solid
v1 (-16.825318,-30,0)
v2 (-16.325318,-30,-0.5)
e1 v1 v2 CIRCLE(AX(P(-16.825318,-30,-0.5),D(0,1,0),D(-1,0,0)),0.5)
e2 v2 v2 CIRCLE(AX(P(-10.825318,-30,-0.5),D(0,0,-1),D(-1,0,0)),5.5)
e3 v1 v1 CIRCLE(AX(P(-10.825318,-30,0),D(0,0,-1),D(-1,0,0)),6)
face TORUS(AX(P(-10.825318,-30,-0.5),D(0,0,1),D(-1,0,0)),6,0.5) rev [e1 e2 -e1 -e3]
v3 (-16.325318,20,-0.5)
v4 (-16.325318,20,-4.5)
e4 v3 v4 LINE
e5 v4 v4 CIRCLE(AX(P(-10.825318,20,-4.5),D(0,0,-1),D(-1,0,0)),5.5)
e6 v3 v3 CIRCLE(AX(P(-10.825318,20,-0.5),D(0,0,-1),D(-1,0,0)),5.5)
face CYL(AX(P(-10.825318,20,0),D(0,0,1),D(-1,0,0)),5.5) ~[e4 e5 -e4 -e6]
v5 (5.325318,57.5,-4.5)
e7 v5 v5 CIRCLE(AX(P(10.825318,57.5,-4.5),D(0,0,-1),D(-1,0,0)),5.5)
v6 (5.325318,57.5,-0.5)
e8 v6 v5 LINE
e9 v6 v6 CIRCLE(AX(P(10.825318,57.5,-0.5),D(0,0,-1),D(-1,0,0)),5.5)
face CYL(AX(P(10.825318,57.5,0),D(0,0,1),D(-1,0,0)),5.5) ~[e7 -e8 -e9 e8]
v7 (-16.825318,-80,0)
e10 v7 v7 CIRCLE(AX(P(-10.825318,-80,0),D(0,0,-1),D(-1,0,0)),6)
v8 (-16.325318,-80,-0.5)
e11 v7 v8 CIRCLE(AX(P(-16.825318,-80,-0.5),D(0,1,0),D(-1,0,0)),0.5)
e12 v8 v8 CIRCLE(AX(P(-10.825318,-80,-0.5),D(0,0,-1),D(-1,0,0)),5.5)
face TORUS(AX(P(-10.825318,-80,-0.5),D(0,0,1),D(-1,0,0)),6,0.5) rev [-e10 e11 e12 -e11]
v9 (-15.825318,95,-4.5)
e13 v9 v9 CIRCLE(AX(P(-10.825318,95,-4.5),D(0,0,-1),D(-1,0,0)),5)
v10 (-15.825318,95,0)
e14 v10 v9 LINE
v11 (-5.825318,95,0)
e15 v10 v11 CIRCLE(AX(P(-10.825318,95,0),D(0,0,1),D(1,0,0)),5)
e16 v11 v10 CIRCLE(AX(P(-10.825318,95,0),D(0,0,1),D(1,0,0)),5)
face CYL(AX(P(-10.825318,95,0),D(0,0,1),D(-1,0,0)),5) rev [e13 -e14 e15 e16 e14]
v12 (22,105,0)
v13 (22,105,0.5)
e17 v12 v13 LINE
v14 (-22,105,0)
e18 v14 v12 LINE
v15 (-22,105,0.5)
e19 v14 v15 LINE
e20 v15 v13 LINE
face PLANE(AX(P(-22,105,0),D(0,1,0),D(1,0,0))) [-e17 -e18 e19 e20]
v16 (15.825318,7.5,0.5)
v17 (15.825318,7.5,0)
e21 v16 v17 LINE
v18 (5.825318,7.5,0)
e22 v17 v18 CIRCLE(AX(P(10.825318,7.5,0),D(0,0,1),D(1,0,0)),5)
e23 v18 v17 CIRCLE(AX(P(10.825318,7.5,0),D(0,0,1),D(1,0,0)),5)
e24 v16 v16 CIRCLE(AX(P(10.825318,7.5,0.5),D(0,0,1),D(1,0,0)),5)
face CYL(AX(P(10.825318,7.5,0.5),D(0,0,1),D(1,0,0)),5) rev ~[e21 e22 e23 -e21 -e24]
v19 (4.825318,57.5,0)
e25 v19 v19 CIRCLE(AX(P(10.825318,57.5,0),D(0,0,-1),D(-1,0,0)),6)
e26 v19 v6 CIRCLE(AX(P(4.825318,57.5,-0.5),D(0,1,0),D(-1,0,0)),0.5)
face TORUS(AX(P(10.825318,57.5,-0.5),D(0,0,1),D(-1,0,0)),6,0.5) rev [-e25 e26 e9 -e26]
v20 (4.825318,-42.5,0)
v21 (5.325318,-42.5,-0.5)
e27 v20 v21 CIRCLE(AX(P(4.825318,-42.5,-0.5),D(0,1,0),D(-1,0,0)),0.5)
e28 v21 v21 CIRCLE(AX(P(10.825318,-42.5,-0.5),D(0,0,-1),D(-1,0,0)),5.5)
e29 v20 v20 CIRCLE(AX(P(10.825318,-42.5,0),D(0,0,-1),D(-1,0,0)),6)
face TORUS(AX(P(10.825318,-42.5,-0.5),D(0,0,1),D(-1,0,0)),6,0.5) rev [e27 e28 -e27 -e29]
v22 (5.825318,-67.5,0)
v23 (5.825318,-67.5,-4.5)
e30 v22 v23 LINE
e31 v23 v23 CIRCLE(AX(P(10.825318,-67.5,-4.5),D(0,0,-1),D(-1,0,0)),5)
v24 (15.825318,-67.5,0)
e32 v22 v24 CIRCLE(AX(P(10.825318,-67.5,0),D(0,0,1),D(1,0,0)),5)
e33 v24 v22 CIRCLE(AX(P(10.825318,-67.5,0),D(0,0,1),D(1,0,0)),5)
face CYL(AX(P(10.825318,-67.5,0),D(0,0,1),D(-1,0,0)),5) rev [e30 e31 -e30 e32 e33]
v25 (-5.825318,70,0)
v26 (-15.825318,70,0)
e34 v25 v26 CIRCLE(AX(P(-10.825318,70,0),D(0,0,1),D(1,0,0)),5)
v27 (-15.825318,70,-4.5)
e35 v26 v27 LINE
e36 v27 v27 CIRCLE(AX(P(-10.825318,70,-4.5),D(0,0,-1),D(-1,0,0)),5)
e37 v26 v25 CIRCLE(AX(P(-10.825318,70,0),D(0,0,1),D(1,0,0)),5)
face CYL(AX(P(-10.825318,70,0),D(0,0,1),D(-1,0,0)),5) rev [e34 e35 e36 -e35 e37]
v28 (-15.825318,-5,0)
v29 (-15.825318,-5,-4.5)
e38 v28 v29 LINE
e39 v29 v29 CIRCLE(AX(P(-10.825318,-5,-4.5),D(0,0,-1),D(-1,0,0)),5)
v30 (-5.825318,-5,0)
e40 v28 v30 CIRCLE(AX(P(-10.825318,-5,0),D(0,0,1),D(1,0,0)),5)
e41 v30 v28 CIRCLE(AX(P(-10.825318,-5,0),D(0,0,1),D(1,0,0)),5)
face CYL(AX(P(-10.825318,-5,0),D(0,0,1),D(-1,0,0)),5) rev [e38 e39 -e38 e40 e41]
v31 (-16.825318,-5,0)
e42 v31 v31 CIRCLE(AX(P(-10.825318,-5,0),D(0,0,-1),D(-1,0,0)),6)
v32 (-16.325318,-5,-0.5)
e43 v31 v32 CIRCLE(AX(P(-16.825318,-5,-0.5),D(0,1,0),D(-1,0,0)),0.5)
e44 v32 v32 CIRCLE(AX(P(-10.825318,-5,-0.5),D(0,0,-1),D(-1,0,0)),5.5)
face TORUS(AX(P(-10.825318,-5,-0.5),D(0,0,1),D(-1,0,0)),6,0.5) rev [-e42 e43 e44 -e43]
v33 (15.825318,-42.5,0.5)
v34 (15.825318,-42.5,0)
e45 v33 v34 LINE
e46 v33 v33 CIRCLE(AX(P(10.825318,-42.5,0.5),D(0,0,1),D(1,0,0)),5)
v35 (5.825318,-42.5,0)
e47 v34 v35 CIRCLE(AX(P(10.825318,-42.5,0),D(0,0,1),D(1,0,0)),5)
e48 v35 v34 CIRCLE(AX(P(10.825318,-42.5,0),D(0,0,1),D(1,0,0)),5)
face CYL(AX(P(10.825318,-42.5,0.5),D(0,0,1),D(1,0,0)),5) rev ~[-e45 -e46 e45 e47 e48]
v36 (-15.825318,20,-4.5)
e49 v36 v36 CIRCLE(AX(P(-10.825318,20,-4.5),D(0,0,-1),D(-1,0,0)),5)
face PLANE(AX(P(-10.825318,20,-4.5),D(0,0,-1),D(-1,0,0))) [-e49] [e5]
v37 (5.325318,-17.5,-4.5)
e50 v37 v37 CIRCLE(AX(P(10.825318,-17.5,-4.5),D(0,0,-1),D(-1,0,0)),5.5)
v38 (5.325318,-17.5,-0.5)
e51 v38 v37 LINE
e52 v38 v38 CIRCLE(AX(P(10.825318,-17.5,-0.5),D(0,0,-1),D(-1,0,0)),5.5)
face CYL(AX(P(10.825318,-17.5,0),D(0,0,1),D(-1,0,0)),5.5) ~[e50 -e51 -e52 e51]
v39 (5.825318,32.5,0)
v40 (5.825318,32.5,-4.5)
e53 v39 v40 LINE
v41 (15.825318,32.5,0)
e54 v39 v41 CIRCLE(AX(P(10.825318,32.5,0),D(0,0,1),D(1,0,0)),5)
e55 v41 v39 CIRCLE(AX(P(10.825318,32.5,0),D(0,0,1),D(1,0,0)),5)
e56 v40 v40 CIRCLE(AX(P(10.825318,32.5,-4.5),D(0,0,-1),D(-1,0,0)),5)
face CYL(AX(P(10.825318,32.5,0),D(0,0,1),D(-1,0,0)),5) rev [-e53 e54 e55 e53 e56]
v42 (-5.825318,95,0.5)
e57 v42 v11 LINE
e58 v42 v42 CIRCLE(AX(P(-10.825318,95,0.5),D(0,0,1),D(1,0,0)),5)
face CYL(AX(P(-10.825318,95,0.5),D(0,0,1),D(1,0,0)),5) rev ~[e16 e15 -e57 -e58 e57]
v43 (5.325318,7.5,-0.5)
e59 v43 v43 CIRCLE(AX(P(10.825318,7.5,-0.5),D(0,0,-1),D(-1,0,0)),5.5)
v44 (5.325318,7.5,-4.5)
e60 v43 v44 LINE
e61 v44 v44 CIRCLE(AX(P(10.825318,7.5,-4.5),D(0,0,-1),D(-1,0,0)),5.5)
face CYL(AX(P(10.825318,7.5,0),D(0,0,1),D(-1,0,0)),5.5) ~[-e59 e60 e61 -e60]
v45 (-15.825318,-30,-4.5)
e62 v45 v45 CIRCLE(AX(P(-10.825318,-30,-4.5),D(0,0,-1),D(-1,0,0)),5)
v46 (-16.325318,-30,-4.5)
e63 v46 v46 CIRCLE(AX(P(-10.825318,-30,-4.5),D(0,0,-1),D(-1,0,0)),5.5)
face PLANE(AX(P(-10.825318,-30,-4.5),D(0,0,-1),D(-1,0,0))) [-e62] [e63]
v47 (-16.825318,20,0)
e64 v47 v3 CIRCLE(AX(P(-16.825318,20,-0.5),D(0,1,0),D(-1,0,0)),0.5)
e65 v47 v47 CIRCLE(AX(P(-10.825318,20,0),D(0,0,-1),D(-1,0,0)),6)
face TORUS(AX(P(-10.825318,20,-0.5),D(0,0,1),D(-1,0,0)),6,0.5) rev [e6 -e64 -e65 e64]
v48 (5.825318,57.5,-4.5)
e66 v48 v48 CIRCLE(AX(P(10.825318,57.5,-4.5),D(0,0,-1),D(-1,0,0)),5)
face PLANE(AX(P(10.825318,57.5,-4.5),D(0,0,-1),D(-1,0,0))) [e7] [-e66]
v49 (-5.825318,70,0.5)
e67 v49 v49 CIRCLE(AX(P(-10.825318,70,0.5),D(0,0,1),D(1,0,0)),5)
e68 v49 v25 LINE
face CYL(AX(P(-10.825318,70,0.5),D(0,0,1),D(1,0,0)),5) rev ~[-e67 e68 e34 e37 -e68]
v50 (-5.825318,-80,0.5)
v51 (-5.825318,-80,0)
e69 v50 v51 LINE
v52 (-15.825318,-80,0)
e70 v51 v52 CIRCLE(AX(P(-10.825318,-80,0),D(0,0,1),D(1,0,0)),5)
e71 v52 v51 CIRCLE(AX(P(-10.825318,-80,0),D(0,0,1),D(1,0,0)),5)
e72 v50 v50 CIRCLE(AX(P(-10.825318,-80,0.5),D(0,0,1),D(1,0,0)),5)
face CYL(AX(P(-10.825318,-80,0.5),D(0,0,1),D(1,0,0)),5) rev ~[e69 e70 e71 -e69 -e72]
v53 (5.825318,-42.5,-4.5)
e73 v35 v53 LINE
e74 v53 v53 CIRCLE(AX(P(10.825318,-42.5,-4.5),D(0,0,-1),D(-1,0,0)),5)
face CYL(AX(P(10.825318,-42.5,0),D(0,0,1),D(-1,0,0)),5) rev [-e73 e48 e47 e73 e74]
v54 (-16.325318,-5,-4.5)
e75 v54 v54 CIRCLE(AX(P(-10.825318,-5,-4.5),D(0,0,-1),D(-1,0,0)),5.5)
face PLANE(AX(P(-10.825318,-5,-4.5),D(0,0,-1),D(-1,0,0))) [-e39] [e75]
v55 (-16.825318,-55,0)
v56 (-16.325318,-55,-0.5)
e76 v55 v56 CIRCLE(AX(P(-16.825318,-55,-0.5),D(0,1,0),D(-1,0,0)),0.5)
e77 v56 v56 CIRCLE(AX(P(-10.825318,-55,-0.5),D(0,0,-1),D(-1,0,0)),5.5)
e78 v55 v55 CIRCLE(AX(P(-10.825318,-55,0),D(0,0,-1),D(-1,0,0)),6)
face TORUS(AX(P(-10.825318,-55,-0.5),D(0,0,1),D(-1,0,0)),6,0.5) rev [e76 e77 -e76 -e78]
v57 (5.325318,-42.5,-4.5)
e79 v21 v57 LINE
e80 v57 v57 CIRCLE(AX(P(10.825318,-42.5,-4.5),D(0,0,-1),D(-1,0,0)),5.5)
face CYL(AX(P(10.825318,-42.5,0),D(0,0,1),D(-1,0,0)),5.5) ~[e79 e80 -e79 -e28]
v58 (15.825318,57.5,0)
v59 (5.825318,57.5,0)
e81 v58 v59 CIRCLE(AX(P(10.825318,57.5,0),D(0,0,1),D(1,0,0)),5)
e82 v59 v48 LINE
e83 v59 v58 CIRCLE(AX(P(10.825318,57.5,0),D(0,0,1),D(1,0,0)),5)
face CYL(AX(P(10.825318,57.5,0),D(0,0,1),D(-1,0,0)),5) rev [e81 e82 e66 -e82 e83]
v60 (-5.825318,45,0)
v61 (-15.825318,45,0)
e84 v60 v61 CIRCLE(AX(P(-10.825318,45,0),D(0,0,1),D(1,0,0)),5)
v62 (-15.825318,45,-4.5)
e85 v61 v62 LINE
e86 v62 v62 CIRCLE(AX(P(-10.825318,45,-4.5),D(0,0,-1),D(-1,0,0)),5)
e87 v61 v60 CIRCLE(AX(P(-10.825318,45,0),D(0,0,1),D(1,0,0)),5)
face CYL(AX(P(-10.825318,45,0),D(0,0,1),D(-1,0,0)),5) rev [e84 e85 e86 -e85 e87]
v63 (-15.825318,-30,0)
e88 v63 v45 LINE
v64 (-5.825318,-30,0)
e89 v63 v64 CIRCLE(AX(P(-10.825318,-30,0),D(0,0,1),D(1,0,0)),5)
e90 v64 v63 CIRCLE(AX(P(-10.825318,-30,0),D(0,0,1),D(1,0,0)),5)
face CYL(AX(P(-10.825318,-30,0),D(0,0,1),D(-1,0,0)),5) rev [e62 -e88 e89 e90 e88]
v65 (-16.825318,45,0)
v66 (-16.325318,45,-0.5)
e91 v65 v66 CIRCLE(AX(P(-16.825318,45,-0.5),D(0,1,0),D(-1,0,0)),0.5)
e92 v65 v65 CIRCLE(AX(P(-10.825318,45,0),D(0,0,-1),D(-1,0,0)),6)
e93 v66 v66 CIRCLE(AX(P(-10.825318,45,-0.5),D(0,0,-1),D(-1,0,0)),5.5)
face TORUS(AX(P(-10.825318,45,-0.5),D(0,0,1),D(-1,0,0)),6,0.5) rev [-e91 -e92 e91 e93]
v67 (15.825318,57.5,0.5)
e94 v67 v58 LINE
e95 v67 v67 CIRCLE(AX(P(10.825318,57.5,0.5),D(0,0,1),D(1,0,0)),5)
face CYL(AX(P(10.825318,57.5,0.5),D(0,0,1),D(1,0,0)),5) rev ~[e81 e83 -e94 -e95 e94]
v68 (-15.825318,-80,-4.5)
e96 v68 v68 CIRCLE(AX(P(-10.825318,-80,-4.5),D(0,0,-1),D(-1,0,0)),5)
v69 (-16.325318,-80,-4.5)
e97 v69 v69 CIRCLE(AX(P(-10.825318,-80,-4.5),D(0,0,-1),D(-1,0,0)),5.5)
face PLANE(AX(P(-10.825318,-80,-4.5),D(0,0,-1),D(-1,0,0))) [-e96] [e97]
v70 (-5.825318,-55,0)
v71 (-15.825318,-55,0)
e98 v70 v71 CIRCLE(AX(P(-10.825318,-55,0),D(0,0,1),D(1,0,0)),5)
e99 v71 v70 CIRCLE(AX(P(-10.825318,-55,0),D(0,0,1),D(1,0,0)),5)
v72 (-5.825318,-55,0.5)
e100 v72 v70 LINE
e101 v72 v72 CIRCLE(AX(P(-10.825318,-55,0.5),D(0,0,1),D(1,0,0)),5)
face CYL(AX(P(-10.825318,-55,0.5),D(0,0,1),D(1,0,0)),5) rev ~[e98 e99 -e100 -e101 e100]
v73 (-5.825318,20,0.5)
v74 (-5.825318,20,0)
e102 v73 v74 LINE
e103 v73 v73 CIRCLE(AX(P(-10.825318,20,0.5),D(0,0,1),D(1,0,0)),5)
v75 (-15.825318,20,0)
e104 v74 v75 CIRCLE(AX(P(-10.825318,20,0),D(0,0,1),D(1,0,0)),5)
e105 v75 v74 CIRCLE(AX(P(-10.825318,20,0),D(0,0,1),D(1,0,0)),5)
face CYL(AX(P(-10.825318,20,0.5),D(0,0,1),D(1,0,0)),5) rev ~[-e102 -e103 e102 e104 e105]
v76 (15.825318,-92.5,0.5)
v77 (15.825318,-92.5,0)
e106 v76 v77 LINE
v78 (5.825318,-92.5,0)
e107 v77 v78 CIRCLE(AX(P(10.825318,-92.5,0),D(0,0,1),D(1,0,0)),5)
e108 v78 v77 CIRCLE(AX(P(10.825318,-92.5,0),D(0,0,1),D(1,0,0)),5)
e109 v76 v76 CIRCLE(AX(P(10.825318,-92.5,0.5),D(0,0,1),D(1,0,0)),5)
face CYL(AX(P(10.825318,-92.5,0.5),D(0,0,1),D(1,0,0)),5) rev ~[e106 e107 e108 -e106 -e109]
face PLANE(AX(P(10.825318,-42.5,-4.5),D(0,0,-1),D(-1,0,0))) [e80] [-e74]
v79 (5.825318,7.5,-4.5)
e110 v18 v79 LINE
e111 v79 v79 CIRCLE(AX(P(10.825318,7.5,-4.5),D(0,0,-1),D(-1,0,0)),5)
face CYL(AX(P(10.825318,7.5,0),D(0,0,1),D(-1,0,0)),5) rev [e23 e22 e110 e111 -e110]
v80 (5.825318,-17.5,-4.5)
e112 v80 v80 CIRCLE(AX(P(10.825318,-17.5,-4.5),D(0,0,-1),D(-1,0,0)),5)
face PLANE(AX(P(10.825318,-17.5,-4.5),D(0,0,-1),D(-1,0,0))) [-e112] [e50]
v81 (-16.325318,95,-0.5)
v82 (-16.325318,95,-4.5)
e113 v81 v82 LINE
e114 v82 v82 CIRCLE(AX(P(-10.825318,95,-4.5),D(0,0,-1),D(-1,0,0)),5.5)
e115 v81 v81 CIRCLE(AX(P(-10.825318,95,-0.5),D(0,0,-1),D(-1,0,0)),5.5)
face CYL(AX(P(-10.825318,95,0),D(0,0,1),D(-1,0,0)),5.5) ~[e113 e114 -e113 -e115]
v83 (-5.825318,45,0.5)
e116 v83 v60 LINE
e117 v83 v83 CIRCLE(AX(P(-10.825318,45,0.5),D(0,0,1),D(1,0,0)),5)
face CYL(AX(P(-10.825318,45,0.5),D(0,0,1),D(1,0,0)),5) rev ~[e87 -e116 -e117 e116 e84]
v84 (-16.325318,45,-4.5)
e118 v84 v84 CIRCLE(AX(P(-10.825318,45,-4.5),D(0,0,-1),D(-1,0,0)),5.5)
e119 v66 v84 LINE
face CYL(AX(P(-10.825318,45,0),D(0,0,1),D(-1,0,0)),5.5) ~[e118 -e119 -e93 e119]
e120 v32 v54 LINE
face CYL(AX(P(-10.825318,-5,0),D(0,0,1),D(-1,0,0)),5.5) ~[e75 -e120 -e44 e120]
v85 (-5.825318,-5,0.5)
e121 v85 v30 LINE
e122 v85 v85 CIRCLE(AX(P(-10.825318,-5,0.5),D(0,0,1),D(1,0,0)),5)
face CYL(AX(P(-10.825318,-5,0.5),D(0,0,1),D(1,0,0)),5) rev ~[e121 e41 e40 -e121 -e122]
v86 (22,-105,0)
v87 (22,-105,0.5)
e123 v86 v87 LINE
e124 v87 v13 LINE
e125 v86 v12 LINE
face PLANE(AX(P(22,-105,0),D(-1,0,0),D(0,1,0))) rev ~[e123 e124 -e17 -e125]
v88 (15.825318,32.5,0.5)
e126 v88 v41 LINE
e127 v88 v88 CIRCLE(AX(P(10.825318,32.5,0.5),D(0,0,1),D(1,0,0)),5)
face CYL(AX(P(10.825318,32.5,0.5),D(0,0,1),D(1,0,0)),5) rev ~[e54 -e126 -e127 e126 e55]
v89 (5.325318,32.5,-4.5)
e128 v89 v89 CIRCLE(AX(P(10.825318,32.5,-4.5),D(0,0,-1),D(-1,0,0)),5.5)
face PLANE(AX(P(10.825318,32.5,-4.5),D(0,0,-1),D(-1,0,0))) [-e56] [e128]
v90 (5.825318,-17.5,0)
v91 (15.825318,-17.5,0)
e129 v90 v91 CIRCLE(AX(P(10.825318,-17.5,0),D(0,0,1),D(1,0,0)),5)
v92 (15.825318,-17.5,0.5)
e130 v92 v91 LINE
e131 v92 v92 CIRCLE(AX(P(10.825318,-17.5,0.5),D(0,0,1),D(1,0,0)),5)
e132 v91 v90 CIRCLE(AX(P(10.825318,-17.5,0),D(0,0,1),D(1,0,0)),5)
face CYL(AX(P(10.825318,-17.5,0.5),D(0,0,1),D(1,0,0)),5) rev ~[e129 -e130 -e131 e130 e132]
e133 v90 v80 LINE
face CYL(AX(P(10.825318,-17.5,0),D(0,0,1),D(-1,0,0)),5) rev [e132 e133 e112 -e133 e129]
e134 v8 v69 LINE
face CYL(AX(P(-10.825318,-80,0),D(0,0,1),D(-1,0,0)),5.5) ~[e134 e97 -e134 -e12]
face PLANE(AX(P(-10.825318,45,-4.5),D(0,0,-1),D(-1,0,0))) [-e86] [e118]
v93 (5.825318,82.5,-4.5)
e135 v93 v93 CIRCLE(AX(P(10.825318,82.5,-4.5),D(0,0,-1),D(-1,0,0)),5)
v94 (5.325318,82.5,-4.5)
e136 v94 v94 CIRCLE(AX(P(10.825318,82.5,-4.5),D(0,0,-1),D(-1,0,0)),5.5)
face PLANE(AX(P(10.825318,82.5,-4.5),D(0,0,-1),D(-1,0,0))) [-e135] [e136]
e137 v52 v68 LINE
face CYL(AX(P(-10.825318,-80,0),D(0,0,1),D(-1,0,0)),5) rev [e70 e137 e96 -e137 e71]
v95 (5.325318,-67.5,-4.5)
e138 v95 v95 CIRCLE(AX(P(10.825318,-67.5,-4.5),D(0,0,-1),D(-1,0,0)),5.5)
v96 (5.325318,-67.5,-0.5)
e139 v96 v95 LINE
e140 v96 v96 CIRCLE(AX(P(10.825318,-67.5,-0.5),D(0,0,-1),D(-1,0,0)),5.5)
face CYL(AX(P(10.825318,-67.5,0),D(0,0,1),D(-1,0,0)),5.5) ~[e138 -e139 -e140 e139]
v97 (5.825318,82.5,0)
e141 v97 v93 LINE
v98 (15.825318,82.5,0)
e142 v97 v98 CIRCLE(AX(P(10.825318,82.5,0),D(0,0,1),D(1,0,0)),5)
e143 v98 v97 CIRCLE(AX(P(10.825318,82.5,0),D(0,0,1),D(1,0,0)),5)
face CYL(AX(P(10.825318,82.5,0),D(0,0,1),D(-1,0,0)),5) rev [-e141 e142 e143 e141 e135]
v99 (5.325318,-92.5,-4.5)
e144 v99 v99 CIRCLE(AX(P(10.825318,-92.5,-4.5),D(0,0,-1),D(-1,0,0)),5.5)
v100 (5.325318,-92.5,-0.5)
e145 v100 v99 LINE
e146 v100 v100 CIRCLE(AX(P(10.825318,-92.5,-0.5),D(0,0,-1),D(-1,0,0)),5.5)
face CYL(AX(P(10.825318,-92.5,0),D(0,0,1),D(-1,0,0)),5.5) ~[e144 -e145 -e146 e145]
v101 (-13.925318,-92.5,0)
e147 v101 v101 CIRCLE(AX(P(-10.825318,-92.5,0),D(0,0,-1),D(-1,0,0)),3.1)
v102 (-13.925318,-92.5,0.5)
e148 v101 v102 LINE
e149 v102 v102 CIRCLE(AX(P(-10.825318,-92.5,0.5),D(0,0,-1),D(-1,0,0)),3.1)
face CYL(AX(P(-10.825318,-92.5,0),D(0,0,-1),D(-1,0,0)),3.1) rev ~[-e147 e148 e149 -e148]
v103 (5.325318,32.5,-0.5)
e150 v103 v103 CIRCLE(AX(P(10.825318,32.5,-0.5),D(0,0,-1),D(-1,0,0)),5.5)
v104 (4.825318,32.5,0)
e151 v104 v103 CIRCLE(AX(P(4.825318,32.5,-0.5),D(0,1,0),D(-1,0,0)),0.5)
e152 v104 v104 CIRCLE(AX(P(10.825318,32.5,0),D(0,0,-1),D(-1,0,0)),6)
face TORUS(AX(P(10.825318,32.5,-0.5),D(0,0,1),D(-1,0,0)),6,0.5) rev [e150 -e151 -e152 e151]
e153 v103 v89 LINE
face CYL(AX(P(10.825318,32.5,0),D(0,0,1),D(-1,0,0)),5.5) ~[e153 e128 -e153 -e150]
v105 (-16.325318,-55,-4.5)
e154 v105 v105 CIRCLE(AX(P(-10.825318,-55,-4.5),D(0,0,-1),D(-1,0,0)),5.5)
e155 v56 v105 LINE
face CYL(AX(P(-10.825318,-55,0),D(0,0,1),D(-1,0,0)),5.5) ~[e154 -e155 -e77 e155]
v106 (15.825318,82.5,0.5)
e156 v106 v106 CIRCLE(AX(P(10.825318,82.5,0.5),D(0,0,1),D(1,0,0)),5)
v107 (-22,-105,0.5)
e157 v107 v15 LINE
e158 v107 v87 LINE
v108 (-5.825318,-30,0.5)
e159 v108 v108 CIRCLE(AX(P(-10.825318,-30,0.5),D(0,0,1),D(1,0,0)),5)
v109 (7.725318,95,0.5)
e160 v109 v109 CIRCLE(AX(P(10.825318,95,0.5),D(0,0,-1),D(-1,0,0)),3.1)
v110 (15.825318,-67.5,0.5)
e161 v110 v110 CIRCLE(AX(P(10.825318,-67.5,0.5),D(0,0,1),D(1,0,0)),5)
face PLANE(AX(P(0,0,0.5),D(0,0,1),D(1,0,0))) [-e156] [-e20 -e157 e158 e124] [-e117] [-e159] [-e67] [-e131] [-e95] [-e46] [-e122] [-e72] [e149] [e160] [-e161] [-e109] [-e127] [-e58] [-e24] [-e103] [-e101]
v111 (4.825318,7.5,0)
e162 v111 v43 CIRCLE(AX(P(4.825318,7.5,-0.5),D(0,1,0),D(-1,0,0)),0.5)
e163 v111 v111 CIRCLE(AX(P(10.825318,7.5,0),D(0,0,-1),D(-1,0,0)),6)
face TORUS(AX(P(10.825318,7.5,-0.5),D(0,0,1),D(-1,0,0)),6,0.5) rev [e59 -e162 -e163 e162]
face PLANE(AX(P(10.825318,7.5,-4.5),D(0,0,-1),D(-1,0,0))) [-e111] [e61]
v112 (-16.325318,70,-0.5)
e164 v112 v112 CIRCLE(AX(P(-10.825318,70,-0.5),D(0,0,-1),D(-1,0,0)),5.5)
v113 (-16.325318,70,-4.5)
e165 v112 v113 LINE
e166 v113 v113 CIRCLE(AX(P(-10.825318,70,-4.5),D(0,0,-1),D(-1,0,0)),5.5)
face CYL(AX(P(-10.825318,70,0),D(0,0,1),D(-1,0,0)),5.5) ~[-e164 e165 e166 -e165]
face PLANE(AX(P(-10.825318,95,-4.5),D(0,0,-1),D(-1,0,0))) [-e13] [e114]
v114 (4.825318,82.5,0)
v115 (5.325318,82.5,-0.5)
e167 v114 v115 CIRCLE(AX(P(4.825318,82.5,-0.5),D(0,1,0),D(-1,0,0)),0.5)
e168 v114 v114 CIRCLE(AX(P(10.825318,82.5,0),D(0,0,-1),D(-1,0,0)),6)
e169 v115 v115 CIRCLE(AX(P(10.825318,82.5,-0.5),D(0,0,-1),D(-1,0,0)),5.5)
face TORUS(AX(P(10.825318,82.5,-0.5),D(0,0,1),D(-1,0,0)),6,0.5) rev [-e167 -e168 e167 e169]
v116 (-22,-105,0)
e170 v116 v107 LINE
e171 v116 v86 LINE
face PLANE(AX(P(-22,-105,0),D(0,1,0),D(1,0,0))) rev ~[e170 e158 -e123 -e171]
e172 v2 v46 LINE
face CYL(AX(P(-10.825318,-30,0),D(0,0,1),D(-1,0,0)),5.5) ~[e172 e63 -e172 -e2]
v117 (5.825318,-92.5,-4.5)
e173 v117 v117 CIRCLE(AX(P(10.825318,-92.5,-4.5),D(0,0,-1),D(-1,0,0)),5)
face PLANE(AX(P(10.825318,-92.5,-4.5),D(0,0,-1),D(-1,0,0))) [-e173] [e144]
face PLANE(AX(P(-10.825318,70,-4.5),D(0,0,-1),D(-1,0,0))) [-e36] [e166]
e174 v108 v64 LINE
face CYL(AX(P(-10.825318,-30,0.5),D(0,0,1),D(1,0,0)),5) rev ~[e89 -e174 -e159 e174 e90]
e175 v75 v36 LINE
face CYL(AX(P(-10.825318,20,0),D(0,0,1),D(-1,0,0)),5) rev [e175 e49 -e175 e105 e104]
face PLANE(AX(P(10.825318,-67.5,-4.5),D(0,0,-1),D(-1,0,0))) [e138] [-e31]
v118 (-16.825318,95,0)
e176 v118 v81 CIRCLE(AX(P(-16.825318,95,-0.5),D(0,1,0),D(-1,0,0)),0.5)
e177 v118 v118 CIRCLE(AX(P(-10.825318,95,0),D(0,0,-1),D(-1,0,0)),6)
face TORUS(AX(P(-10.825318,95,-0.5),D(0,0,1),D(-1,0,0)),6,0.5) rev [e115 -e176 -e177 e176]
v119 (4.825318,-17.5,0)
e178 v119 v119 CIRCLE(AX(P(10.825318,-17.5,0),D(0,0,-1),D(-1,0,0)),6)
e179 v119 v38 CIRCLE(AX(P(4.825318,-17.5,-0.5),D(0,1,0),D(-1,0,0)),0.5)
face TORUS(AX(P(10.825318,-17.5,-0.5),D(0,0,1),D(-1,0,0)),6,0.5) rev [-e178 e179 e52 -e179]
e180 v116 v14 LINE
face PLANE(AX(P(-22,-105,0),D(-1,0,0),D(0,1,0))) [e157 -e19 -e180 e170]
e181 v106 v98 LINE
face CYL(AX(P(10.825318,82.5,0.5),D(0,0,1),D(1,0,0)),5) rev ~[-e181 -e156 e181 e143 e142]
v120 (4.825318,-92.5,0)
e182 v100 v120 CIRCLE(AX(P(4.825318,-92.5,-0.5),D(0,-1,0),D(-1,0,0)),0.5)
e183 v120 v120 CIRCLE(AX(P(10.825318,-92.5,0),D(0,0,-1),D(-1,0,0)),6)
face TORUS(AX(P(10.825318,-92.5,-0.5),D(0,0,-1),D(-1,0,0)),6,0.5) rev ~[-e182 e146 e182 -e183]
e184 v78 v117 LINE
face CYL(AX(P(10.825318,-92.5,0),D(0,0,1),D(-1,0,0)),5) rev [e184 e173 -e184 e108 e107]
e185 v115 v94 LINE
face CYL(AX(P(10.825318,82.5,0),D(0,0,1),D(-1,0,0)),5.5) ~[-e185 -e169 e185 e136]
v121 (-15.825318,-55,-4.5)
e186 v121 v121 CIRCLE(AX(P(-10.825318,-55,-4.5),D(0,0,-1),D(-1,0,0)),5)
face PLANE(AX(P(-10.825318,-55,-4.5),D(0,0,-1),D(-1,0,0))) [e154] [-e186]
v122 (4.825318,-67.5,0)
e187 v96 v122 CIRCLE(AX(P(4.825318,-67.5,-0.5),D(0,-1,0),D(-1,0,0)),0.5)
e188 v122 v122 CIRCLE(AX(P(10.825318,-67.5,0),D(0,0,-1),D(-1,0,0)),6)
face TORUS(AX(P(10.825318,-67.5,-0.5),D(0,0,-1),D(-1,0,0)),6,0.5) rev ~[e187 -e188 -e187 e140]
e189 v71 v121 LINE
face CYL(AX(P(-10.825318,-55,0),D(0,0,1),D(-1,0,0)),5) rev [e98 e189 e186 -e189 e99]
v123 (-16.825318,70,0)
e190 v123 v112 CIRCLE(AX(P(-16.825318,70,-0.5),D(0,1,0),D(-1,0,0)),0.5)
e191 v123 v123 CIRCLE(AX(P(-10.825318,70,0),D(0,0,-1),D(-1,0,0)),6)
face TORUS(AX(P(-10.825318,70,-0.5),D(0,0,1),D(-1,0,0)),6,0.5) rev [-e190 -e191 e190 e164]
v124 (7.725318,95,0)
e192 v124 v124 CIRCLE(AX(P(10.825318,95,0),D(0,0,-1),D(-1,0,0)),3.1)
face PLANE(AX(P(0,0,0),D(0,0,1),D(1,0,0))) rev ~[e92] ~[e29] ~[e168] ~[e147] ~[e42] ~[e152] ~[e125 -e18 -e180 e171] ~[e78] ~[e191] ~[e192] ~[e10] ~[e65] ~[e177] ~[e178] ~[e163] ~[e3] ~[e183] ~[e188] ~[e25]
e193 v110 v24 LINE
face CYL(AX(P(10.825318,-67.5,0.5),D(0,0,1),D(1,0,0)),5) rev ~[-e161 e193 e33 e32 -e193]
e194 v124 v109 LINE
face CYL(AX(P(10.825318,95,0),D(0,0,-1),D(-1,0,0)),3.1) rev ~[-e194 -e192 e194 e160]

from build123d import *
from build123d.topology import SkipClean

# Parameters (mm, degrees)
SKETCH1_W              = 44
SKETCH1_H              = 210
BOSS_EXTRUDE1_DEPTH    = 0.5
SKETCH7_R              = 5
CUT_EXTRUDE3_DEPTH     = 108.281172626
LPATTERN1_COUNT        = 8
LPATTERN1_PITCH        = 25
SKETCH8_R              = 3.1
CUT_EXTRUDE4_DEPTH     = 108.281172626
SKETCH10_R             = 5.5
SKETCH10_R_2           = 5
BOSS_EXTRUDE3_DEPTH    = 4.5
FILLET2_R              = 0.5
LPATTERN3_COUNT        = 8
LPATTERN3_PITCH        = 25
FILLET2_OF_LPATTERN3_R = 0.5


with BuildPart() as part:
    # Sketch1 → Boss-Extrude1 (new body)
    with BuildSketch(Plane.XY):
        Rectangle(SKETCH1_W, SKETCH1_H)
    extrude(amount=BOSS_EXTRUDE1_DEPTH)

    # Sketch7 → Cut-Extrude3 (cut, through all)
    with BuildSketch(Plane.XY.offset(0.5)):
        with Locations((10.825317547, 82.5)):
            Circle(SKETCH7_R)
        with Locations((-10.825317547, 95)):
            Circle(SKETCH7_R)
    cut_extrude3 = extrude(amount=-CUT_EXTRUDE3_DEPTH, mode=Mode.SUBTRACT)

    # LPattern1: Cut-Extrude3 ×8
    with Locations(*[(0, -i * LPATTERN1_PITCH, 0) for i in range(1, LPATTERN1_COUNT)]):
        add(cut_extrude3, mode=Mode.SUBTRACT)

    # Sketch8 → Cut-Extrude4 (cut, through all)
    with BuildSketch(Plane(origin=(0, 0, 0), x_dir=(-1, 0, 0), z_dir=(0, 0, -1))):
        with Locations((-10.825317547, 95)):
            Circle(SKETCH8_R)
        with Locations((10.825317547, -92.5)):
            Circle(SKETCH8_R)
    extrude(amount=-CUT_EXTRUDE4_DEPTH, mode=Mode.SUBTRACT)

    # Sketch10 → Boss-Extrude3 (add)
    # profile 1 of 2: a face of its own
    with SkipClean():  # the faces are left unmerged after this step: merging them gives an invalid solid
        with BuildSketch(Plane(origin=(0, 0, 0), x_dir=(-1, 0, 0), z_dir=(0, 0, -1))):
            with Locations((-10.825317547, -92.5)):
                Circle(SKETCH10_R)
            with Locations((-10.825317547, -92.5)):
                Circle(SKETCH10_R_2, mode=Mode.SUBTRACT)
        # profile 2 of 2: a face of its own
        with BuildSketch(Plane(origin=(0, 0, 0), x_dir=(-1, 0, 0), z_dir=(0, 0, -1))):
            with Locations((10.825317547, -80)):
                Circle(SKETCH10_R)
            with Locations((10.825317547, -80)):
                Circle(SKETCH10_R_2, mode=Mode.SUBTRACT)
        boss_extrude3 = extrude(amount=BOSS_EXTRUDE3_DEPTH)
    add(part.part.scale(1), mode=Mode.REPLACE)  # the faces are merged on a copy

    # Fillet2
    fillet2_edges = [part.edges().sort_by_distance(p)[0] for p in [
        (-5.325317547, -80, 0),
        (16.325317547, -92.5, 0),
    ]]
    fillet(fillet2_edges, radius=FILLET2_R)

    # LPattern3: Boss-Extrude3 ×8
    with Locations(*[(0, i * LPATTERN3_PITCH, 0) for i in range(1, LPATTERN3_COUNT)]):
        add(boss_extrude3)

    # Fillet2 of LPattern3
    fillet2_of_lpattern3_edges = [part.edges().sort_by_distance(p)[0] for p in [
        (-5.325317547, -55, 0),
        (16.325317547, -67.5, 0),
        (-5.325317547, -30, 0),
        (16.325317547, -42.5, 0),
        (-5.325317547, -5, 0),
        (16.325317547, -17.5, 0),
        (-5.325317547, 20, 0),
        (16.325317547, 7.5, 0),
        (-5.325317547, 45, 0),
        (16.325317547, 32.5, 0),
        (-5.325317547, 70, 0),
        (16.325317547, 57.5, 0),
        (-5.325317547, 95, 0),
        (16.325317547, 82.5, 0),
    ]]
    fillet(fillet2_of_lpattern3_edges, radius=FILLET2_OF_LPATTERN3_R)


solid = part.part
